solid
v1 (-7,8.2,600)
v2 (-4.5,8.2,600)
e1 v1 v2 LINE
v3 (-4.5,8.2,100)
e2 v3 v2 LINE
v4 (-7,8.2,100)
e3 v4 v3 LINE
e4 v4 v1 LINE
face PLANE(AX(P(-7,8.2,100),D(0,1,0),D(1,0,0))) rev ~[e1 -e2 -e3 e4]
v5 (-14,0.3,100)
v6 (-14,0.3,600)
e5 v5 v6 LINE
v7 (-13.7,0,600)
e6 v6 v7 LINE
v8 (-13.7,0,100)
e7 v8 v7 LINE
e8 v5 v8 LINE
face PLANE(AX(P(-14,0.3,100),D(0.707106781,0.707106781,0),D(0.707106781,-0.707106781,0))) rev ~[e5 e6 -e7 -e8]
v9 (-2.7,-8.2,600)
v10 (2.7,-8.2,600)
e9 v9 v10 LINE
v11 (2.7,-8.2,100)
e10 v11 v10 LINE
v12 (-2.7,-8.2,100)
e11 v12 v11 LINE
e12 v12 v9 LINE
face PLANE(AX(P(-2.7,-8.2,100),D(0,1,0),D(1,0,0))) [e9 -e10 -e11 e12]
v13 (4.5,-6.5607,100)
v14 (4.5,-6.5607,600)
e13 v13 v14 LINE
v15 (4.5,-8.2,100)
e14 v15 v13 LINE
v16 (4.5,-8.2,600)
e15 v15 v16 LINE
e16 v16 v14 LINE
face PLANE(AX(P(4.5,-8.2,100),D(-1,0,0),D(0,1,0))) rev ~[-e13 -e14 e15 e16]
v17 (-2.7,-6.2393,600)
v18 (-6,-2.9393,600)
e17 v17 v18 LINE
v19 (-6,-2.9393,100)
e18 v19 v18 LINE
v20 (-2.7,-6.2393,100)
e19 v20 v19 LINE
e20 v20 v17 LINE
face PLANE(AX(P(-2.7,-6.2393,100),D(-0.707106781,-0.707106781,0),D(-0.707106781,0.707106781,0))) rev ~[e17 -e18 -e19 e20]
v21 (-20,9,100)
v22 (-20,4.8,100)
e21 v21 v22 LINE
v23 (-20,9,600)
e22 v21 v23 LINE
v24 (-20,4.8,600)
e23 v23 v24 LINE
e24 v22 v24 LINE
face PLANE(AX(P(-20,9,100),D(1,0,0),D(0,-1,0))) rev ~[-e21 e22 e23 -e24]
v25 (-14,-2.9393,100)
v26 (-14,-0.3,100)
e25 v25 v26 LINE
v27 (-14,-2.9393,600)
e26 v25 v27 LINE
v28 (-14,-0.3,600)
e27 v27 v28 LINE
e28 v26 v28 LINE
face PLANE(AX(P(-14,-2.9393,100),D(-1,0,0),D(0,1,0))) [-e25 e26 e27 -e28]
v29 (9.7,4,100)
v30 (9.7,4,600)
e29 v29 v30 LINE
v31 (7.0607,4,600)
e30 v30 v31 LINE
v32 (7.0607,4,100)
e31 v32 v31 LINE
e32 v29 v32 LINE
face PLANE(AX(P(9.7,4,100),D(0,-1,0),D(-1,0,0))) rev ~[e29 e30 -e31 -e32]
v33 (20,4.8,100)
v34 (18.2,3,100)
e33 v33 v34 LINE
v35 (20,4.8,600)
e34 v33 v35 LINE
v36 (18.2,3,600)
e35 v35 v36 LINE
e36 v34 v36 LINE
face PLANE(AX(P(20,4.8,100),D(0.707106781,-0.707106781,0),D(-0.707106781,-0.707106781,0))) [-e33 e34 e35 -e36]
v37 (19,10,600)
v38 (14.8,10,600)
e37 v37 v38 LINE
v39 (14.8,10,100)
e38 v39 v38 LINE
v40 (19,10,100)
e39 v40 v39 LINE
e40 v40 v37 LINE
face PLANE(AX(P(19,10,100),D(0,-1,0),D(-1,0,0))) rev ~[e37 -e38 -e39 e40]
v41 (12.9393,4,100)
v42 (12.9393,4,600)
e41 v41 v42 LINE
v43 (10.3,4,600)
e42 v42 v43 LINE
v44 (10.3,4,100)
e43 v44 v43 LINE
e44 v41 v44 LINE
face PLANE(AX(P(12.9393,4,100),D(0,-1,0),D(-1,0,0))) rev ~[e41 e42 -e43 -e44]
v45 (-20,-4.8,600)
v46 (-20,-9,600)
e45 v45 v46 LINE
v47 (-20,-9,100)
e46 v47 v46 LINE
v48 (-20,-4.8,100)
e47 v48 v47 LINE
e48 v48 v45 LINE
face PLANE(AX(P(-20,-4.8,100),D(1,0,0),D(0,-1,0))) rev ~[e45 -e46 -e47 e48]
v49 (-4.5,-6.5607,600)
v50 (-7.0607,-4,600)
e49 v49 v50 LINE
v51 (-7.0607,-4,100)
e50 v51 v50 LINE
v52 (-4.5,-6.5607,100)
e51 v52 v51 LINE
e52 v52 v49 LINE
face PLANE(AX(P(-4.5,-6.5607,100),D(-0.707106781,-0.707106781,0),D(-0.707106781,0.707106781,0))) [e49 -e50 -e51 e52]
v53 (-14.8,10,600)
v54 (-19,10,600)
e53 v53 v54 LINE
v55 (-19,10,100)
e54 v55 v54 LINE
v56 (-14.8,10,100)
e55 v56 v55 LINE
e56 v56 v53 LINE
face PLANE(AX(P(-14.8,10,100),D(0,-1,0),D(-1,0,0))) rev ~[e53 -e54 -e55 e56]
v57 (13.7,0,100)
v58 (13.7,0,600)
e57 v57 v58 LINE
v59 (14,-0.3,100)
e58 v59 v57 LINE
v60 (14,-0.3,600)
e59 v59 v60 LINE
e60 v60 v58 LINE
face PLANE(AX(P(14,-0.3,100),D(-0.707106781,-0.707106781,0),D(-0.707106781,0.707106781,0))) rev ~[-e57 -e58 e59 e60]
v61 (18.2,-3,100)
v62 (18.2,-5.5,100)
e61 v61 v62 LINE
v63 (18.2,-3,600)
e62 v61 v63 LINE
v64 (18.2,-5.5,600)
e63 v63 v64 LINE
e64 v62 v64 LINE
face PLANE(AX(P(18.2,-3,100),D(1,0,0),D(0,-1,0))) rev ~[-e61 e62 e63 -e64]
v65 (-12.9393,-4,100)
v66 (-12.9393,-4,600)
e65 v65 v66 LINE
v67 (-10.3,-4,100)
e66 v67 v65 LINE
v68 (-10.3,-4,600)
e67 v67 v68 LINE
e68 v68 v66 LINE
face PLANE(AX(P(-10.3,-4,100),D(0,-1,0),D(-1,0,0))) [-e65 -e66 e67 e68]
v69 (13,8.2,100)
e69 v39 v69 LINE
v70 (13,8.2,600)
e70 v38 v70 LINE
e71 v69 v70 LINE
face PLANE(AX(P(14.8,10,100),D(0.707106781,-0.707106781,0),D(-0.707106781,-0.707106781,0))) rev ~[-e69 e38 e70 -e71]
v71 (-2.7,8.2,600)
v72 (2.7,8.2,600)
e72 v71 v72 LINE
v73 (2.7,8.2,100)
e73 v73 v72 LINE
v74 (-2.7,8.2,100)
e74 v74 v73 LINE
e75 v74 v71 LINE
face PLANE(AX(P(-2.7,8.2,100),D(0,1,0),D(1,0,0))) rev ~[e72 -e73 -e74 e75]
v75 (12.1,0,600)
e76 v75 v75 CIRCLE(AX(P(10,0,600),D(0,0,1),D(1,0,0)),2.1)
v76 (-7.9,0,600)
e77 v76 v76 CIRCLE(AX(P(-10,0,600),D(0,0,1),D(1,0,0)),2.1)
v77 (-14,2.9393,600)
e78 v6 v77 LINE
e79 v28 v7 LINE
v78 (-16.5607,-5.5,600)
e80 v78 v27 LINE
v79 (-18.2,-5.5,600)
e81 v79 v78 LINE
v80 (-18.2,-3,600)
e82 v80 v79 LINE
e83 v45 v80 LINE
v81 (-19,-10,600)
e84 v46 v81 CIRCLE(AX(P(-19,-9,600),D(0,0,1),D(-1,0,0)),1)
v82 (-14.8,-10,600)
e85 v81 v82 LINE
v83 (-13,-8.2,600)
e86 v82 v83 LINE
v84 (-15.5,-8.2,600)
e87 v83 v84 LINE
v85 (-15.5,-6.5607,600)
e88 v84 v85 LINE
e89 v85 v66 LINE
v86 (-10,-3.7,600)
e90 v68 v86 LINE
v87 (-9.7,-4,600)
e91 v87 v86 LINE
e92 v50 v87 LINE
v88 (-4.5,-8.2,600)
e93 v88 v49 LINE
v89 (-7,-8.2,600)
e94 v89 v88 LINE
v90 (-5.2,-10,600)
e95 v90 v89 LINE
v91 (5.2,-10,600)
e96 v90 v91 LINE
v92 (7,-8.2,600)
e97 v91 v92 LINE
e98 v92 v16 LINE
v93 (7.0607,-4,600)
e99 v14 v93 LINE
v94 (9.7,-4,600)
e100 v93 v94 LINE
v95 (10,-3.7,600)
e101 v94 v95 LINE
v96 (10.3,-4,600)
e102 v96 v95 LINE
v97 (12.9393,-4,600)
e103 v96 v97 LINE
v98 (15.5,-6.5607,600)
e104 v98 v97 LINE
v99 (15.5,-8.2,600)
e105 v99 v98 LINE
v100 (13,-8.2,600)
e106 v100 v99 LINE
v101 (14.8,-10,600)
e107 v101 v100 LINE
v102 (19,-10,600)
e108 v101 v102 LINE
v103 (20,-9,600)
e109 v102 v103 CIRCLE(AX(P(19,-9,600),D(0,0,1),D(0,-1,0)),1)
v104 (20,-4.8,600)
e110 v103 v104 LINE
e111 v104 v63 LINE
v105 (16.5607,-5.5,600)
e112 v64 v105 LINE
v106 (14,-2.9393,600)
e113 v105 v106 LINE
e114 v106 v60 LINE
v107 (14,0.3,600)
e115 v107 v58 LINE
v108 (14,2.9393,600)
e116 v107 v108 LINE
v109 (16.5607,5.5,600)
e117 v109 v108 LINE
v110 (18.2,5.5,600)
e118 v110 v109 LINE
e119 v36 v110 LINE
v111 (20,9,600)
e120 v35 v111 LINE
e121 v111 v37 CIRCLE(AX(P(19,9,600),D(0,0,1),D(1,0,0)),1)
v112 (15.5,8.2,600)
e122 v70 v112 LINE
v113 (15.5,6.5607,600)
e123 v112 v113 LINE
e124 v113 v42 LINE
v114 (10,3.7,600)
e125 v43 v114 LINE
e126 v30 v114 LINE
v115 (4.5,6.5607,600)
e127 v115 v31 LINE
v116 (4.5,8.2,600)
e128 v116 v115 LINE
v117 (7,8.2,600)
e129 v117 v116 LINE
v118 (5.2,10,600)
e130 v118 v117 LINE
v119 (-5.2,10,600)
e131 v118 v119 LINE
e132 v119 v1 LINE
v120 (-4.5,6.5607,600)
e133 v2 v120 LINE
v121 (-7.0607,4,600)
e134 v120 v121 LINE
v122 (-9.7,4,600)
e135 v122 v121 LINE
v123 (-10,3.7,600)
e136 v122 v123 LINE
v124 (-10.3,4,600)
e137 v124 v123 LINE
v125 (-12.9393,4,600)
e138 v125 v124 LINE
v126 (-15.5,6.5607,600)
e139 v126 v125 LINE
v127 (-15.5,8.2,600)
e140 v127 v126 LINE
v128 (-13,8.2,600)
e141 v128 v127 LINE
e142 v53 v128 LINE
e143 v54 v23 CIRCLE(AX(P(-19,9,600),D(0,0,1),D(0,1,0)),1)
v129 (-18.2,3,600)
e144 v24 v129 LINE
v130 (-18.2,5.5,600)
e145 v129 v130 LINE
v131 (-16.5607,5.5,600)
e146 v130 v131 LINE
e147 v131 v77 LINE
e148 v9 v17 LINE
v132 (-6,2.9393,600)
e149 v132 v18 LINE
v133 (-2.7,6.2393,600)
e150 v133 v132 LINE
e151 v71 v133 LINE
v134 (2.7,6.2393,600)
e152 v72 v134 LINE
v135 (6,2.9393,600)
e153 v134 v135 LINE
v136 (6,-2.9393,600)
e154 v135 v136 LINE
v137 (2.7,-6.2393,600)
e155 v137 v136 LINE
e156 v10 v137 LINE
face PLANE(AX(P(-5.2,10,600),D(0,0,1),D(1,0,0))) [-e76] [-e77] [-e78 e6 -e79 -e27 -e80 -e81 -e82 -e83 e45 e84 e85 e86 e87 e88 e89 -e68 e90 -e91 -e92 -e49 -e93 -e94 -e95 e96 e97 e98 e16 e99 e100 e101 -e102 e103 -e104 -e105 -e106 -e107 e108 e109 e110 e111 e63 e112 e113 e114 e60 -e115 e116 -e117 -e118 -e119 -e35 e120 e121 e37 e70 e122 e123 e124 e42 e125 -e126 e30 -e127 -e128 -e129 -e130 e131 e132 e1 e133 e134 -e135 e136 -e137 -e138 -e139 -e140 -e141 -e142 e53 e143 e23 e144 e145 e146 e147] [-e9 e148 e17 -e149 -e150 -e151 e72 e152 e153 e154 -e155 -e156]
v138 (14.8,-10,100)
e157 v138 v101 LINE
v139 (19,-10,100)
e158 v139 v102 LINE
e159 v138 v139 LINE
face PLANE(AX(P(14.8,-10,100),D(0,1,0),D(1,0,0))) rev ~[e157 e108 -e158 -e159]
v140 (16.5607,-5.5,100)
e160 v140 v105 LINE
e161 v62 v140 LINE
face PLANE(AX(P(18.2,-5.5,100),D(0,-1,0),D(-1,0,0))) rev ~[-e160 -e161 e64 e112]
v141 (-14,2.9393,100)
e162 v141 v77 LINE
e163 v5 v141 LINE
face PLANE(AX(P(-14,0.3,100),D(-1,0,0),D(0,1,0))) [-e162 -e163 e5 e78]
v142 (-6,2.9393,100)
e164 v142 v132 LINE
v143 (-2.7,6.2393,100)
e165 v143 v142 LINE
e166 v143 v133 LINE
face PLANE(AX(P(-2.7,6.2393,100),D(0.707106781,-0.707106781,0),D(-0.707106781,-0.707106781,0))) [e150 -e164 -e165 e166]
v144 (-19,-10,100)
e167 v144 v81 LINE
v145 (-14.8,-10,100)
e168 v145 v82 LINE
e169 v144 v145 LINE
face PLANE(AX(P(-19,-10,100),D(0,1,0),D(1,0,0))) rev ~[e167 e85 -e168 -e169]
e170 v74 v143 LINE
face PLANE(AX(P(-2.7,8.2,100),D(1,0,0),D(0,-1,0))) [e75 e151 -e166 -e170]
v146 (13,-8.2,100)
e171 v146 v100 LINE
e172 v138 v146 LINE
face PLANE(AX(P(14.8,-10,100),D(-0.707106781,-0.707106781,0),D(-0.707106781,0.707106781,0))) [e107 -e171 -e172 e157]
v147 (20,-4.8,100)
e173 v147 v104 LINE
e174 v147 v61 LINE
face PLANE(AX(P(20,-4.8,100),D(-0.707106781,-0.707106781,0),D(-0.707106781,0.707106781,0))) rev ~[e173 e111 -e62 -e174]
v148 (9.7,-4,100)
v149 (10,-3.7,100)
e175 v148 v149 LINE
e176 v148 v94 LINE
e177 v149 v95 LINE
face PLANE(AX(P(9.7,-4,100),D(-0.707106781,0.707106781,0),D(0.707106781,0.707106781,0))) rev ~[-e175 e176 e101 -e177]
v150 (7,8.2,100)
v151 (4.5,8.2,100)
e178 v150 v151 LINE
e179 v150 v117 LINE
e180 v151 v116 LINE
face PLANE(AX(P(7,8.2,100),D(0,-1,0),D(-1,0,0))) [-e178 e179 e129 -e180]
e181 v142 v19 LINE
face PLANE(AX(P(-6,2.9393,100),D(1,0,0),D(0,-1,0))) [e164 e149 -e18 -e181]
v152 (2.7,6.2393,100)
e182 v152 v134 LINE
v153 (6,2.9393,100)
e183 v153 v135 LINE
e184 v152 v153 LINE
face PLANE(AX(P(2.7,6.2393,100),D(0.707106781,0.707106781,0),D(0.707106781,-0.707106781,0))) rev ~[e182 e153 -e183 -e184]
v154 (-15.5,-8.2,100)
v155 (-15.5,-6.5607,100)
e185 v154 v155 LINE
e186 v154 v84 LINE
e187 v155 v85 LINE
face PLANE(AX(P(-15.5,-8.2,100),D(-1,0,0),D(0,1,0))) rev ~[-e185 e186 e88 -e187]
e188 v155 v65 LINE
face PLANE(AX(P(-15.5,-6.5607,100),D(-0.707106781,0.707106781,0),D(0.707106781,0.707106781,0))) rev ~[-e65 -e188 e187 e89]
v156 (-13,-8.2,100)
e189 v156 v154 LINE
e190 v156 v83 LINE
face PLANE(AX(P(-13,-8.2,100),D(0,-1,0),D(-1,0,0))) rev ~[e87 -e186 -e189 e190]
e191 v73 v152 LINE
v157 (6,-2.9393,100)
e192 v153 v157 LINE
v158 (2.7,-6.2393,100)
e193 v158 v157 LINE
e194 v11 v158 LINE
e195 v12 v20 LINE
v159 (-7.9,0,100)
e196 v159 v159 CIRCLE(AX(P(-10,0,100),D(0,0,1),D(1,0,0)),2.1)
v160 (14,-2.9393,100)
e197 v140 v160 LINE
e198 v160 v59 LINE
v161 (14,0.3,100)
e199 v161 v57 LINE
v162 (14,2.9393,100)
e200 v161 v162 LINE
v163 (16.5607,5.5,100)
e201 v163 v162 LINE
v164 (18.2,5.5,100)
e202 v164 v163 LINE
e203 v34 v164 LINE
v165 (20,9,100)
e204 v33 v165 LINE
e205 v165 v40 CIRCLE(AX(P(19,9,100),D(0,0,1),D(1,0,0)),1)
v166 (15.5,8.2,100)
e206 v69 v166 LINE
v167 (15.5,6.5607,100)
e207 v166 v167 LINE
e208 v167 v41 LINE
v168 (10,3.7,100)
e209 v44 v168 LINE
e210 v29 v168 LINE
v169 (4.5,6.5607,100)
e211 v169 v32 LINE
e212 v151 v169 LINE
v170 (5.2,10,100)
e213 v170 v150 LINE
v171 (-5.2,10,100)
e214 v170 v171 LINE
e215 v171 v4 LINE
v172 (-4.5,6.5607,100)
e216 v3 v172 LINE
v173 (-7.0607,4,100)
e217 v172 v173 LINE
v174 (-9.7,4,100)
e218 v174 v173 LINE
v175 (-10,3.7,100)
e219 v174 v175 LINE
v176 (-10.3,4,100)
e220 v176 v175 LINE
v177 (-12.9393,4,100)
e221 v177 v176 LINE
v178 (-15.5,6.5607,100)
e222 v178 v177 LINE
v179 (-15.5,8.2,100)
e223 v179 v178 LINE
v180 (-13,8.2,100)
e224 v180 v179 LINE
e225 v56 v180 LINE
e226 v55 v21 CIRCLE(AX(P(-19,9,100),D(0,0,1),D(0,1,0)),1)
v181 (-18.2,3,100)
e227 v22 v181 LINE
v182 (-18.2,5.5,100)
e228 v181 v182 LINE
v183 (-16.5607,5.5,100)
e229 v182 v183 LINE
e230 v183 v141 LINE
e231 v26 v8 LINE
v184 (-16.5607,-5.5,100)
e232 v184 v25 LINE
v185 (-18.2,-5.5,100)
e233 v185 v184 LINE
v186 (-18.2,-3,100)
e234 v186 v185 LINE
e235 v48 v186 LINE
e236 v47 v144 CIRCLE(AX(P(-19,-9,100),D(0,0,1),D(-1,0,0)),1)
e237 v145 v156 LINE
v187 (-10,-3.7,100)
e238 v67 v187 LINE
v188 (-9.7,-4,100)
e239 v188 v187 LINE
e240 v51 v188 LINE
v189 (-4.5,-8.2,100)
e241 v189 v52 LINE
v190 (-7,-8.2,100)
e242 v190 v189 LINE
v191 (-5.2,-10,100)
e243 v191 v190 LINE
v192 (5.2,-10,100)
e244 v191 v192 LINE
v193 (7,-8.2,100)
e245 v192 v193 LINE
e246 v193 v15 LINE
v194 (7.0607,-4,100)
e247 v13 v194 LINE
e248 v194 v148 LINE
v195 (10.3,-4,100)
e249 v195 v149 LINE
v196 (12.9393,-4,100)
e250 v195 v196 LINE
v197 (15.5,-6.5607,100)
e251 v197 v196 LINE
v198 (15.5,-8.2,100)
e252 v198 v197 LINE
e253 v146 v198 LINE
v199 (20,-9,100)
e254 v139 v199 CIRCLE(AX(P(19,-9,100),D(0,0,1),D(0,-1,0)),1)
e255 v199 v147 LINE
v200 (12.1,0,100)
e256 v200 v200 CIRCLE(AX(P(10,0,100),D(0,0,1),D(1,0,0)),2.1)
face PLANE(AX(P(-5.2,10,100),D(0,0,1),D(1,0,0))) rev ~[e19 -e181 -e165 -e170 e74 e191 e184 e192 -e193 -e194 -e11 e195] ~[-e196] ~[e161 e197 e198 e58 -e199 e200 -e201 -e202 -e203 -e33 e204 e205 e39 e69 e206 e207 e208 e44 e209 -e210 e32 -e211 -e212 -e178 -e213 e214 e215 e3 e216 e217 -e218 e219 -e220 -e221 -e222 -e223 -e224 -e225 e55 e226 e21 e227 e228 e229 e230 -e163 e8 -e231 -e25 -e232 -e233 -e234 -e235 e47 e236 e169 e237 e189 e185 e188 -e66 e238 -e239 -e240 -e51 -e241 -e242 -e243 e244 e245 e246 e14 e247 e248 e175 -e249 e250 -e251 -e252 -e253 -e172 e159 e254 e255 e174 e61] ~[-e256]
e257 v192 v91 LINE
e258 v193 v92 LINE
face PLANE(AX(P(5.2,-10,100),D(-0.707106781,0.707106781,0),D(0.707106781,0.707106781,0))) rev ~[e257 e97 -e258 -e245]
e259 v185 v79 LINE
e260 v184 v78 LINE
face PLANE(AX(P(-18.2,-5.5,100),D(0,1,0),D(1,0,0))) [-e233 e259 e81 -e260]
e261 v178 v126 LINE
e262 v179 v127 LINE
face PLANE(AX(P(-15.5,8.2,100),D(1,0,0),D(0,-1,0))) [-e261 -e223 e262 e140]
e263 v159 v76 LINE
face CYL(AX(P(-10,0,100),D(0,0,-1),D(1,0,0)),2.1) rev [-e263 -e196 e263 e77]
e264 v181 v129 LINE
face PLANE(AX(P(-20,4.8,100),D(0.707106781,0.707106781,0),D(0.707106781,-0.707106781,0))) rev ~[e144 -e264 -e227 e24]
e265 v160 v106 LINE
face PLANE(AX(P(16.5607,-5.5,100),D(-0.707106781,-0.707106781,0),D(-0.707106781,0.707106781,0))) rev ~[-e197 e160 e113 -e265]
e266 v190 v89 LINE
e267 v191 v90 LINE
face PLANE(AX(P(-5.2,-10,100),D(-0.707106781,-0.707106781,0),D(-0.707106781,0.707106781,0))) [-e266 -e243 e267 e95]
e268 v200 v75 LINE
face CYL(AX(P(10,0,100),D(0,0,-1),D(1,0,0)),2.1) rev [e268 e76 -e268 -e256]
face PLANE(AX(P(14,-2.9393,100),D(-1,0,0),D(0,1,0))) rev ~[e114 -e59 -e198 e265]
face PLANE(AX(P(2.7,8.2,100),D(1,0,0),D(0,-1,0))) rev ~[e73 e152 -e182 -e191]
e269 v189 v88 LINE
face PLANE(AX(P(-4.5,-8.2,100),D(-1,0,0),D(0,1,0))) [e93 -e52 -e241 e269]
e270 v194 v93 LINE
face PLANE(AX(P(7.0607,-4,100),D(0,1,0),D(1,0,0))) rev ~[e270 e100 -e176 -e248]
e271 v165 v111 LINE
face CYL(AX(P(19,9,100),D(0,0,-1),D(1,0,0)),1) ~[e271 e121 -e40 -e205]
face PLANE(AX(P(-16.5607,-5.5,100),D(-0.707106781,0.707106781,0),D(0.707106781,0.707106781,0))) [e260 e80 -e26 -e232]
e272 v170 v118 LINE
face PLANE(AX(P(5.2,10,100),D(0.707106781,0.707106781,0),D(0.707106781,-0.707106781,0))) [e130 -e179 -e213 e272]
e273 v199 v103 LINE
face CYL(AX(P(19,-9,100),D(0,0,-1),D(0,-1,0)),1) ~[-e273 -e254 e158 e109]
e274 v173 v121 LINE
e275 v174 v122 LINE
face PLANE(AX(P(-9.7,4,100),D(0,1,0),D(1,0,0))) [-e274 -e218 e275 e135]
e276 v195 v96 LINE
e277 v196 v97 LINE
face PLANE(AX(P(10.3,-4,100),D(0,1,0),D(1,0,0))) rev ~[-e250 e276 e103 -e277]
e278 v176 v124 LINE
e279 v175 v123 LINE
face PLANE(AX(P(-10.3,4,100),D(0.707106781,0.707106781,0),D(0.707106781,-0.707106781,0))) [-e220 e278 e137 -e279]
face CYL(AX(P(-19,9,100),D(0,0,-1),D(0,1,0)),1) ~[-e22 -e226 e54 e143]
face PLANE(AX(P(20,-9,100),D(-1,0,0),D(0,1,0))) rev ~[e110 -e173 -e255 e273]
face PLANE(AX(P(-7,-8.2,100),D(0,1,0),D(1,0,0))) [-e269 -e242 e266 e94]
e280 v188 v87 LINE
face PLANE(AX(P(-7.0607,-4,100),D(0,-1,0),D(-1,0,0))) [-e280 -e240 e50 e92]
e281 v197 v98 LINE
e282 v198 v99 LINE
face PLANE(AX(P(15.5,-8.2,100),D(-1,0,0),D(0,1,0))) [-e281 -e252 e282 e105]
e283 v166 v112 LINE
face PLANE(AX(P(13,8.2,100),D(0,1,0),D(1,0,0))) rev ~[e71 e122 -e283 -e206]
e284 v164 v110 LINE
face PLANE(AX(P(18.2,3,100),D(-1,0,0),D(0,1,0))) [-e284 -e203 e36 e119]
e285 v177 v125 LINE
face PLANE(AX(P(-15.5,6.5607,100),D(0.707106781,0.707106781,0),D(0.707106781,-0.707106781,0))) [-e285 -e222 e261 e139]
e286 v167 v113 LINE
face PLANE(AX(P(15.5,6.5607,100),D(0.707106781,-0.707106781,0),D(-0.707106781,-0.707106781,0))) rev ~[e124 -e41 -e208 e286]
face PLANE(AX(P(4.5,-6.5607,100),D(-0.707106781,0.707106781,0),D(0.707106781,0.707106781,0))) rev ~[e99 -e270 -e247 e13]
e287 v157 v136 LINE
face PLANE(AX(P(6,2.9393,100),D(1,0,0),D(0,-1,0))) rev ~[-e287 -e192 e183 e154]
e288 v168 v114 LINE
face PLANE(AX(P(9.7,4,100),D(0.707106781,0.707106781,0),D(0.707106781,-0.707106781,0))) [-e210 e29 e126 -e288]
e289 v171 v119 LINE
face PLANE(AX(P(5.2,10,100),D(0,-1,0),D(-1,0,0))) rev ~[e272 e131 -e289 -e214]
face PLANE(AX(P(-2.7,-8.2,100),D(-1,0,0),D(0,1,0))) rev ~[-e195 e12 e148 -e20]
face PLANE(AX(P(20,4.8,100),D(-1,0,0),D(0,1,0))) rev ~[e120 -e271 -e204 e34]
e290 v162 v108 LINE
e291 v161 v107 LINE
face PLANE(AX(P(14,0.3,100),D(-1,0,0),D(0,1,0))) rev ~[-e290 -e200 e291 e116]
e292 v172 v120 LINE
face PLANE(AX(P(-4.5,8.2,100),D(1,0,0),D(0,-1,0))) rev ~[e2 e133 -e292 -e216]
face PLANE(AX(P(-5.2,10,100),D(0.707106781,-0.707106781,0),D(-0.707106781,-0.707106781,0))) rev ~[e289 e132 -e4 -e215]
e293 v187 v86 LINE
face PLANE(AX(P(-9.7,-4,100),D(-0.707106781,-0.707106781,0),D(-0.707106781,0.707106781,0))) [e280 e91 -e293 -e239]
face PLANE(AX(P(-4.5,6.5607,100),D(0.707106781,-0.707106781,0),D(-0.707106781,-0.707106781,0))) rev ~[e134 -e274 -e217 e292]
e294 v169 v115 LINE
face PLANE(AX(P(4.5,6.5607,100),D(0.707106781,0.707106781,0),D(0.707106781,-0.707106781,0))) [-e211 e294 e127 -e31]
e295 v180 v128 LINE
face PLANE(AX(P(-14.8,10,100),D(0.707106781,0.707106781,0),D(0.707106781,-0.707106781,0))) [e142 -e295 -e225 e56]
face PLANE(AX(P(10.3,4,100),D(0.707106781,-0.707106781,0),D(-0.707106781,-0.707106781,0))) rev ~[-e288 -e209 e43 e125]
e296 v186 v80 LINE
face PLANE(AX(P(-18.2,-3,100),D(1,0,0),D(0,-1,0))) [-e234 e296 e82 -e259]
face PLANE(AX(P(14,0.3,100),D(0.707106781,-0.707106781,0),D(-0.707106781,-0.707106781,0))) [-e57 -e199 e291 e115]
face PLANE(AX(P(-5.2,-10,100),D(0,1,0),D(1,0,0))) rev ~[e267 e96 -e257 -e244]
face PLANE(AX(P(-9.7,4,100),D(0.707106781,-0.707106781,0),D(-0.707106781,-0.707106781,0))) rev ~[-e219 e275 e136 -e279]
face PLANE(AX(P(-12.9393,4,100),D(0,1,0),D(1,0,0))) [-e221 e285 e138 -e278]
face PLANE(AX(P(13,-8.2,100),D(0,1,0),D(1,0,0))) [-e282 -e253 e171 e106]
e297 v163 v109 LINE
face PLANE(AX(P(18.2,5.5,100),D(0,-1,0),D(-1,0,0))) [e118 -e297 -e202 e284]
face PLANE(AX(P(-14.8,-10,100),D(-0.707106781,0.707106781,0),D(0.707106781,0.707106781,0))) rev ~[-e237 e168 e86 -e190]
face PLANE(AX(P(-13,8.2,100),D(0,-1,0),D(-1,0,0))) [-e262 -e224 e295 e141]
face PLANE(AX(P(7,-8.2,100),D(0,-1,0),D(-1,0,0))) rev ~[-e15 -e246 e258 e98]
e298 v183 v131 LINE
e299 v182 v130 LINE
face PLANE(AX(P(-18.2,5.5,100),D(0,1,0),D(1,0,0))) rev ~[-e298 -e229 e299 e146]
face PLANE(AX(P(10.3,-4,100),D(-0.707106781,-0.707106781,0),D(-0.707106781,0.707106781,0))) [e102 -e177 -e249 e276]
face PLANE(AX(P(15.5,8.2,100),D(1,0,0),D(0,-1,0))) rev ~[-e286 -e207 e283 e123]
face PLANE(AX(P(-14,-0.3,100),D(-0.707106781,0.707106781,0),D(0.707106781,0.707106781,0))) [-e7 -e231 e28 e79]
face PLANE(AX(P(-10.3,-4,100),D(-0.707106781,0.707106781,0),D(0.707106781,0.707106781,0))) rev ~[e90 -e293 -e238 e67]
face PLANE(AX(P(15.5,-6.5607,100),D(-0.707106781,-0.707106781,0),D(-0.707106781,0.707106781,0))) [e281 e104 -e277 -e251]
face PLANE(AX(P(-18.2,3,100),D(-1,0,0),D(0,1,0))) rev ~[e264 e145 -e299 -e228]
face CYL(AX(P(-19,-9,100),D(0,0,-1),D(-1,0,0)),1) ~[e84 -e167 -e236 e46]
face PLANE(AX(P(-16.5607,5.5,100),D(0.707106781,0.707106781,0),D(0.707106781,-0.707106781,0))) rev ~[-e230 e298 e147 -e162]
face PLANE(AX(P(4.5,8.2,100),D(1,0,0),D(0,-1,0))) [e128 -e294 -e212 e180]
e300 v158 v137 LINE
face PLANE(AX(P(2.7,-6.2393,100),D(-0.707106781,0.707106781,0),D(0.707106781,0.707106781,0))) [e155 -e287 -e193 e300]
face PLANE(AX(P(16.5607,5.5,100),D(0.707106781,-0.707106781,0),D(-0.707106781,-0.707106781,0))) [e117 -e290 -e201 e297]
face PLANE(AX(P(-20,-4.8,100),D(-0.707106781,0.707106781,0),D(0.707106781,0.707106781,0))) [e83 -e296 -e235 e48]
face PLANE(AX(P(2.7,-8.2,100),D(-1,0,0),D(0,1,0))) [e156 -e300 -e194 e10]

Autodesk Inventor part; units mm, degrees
ref_plane "YZ Plane" through (0, 0, 0) normal (1, 0, 0) x (0, 1, 0)
ref_plane "XZ Plane" through (0, 0, 0) normal (0, 1, 0) x (-1, 0, 0)
ref_plane "Work Plane2" through (-5.2, 10, 100) normal (0, 0, 1) x (1, 0, 0)
sketch "Sketch1" plane through (-5.2, 10, 100) normal (0, 0, 1) x (1, 0, 0)
  line L0 (7.9, -18.2) -> (7.9, -16.2393)
  line L1 (2.5, -18.2) -> (7.9, -18.2)
  line L2 (2.5, -18.2) -> (2.5, -16.2393)
  line L3 (2.5, -16.2393) -> (-0.8, -12.9393)
  line L4 (-0.8, -7.0607) -> (-0.8, -12.9393)
  line L5 (2.5, -3.7607) -> (-0.8, -7.0607)
  line L6 (12.2, -18.2) -> (9.7, -18.2)
  line L7 (10.4, -20) -> (12.2, -18.2)
  line L8 (0, -20) -> (10.4, -20)
  line L9 (0, -20) -> (-1.8, -18.2)
  line L10 (-1.8, -18.2) -> (0.7, -18.2)
  line L11 (0.7, -18.2) -> (0.7, -16.5607)
  line L12 (0.7, -16.5607) -> (-1.8607, -14)
  line L13 (-1.8607, -14) -> (-4.5, -14)
  line L14 (-4.5, -14) -> (-4.8, -13.7)
  line L15 (-5.1, -14) -> (-4.8, -13.7)
  line L16 (-5.1, -14) -> (-7.7393, -14)
  line L17 (-10.3, -16.5607) -> (-7.7393, -14)
  line L18 (-10.3, -18.2) -> (-10.3, -16.5607)
  line L19 (-7.8, -18.2) -> (-10.3, -18.2)
  line L20 (-9.6, -20) -> (-7.8, -18.2)
  line L21 (-13.8, -20) -> (-9.6, -20)
  arc A0 (-14.8, -19) -> (-13.8, -20) centre (-13.8, -19) ccw
  line L22 (-14.8, -14.8) -> (-14.8, -19)
  line L23 (-14.8, -14.8) -> (-13, -13)
  line L24 (-13, -13) -> (-13, -15.5)
  line L25 (-13, -15.5) -> (-11.3607, -15.5)
  line L26 (-11.3607, -15.5) -> (-8.8, -12.9393)
  line L27 (-8.8, -12.9393) -> (-8.8, -10.3)
  line L28 (-8.8, -10.3) -> (-8.5, -10)
  line L29 (-8.8, -9.7) -> (-8.5, -10)
  line L30 (-8.8, -9.7) -> (-8.8, -7.0607)
  line L31 (-11.3607, -4.5) -> (-8.8, -7.0607)
  line L32 (-13, -4.5) -> (-11.3607, -4.5)
  line L33 (-13, -7) -> (-13, -4.5)
  line L34 (-14.8, -5.2) -> (-13, -7)
  line L35 (-14.8, -1) -> (-14.8, -5.2)
  arc A1 (-13.8, 0) -> (-14.8, -1) centre (-13.8, -1) ccw
  line L36 (-9.6, 0) -> (-13.8, 0)
  line L37 (-9.6, 0) -> (-7.8, -1.8)
  line L38 (-7.8, -1.8) -> (-10.3, -1.8)
  line L39 (-10.3, -1.8) -> (-10.3, -3.4393)
  line L40 (-10.3, -3.4393) -> (-7.7393, -6)
  line L41 (-7.7393, -6) -> (-5.1, -6)
  line L42 (-5.1, -6) -> (-4.8, -6.3)
  line L43 (-4.5, -6) -> (-4.8, -6.3)
  line L44 (-4.5, -6) -> (-1.8607, -6)
  line L45 (0.7, -3.4393) -> (-1.8607, -6)
  line L46 (0.7, -1.8) -> (0.7, -3.4393)
  line L47 (-1.8, -1.8) -> (0.7, -1.8)
  line L48 (0, 0) -> (-1.8, -1.8)
  line L49 (10.4, 0) -> (0, 0)
  line L50 (10.4, 0) -> (12.2, -1.8)
  line L51 (12.2, -1.8) -> (9.7, -1.8)
  line L52 (9.7, -1.8) -> (9.7, -3.4393)
  line L53 (9.7, -3.4393) -> (12.2607, -6)
  line L54 (14.9, -6) -> (12.2607, -6)
  line L55 (14.9, -6) -> (15.2, -6.3)
  line L56 (15.5, -6) -> (15.2, -6.3)
  line L57 (18.1393, -6) -> (15.5, -6)
  line L58 (20.7, -3.4393) -> (18.1393, -6)
  line L59 (20.7, -1.8) -> (20.7, -3.4393)
  line L60 (18.2, -1.8) -> (20.7, -1.8)
  line L61 (20, 0) -> (18.2, -1.8)
  line L62 (24.2, 0) -> (20, 0)
  arc A2 (25.2, -1) -> (24.2, 0) centre (24.2, -1) ccw
  line L63 (25.2, -5.2) -> (25.2, -1)
  line L64 (25.2, -5.2) -> (23.4, -7)
  line L65 (23.4, -7) -> (23.4, -4.5)
  line L66 (23.4, -4.5) -> (21.7607, -4.5)
  line L67 (21.7607, -4.5) -> (19.2, -7.0607)
  line L68 (19.2, -9.7) -> (19.2, -7.0607)
  line L69 (19.2, -9.7) -> (18.9, -10)
  line L70 (19.2, -10.3) -> (18.9, -10)
  line L71 (19.2, -12.9393) -> (19.2, -10.3)
  line L72 (21.7607, -15.5) -> (19.2, -12.9393)
  line L73 (23.4, -15.5) -> (21.7607, -15.5)
  line L74 (23.4, -13) -> (23.4, -15.5)
  line L75 (25.2, -14.8) -> (23.4, -13)
  line L76 (25.2, -19) -> (25.2, -14.8)
  arc A3 (24.2, -20) -> (25.2, -19) centre (24.2, -19) ccw
  line L77 (20, -20) -> (24.2, -20)
  line L78 (20, -20) -> (18.2, -18.2)
  line L79 (18.2, -18.2) -> (20.7, -18.2)
  line L80 (20.7, -18.2) -> (20.7, -16.5607)
  line L81 (20.7, -16.5607) -> (18.1393, -14)
  line L82 (15.5, -14) -> (18.1393, -14)
  line L83 (15.5, -14) -> (15.2, -13.7)
  line L84 (14.9, -14) -> (15.2, -13.7)
  line L85 (12.2607, -14) -> (14.9, -14)
  line L86 (9.7, -16.5607) -> (12.2607, -14)
  line L87 (9.7, -18.2) -> (9.7, -16.5607)
  circle A4 centre (15.2, -10) radius 2.1
  circle A5 centre (-4.8, -10) radius 2.1
  line L88 (7.9, -16.2393) -> (11.2, -12.9393)
  line L89 (11.2, -7.0607) -> (11.2, -12.9393)
  line L90 (7.9, -3.7607) -> (11.2, -7.0607)
  line L91 (7.9, -1.8) -> (7.9, -3.7607)
  line L92 (2.5, -1.8) -> (7.9, -1.8)
  line L93 (2.5, -1.8) -> (2.5, -3.7607)
  line L94 (2.5, -3.7607) -> (-0.8, -7.0607)
  line L95 (-0.8, -7.0607) -> (-0.8, -12.9393)
  line L96 (2.5, -16.2393) -> (-0.8, -12.9393)
  line L97 (2.5, -18.2) -> (2.5, -16.2393)
  line L98 (2.5, -18.2) -> (7.9, -18.2)
  line L99 (7.9, -18.2) -> (7.9, -16.2393)
  line L100 (0.7, -18.2) -> (0.7, -16.5607)
  line L101 (0.7, -16.5607) -> (-1.8607, -14)
  line L102 (-1.8, -18.2) -> (0.7, -18.2)
  line L103 (0, -20) -> (-1.8, -18.2)
  line L104 (-1.8607, -14) -> (-4.5, -14)
  line L105 (-4.5, -14) -> (-4.8, -13.7)
  line L106 (-5.1, -14) -> (-4.8, -13.7)
  circle A6 centre (-4.8, -10) radius 2.1
  line L107 (-5.1, -14) -> (-7.7393, -14)
  line L108 (-8.8, -9.7) -> (-8.5, -10)
  line L109 (-8.8, -12.9393) -> (-8.8, -10.3)
  line L110 (-8.8, -9.7) -> (-8.8, -7.0607)
  line L111 (-10.3, -16.5607) -> (-7.7393, -14)
  line L112 (-10.3, -18.2) -> (-10.3, -16.5607)
  line L113 (-13, -15.5) -> (-11.3607, -15.5)
  line L114 (-13, -13) -> (-13, -15.5)
  line L115 (-14.8, -14.8) -> (-14.8, -19)
  line L116 (-11.3607, -4.5) -> (-8.8, -7.0607)
  line L117 (-13, -7) -> (-13, -4.5)
  line L118 (0.7, -3.4393) -> (-1.8607, -6)
  line L119 (2.5, -1.8) -> (2.5, -3.7607)
  line L120 (2.5, -1.8) -> (7.9, -1.8)
  line L121 (7.9, -1.8) -> (7.9, -3.7607)
  line L122 (9.7, -18.2) -> (9.7, -16.5607)
  line L123 (7.9, -3.7607) -> (11.2, -7.0607)
  line L124 (7.9, -16.2393) -> (11.2, -12.9393)
  line L125 (11.2, -7.0607) -> (11.2, -12.9393)
  line L126 (9.7, -16.5607) -> (12.2607, -14)
  line L127 (12.2607, -14) -> (14.9, -14)
  line L128 (14.9, -14) -> (15.2, -13.7)
  circle A7 centre (15.2, -10) radius 2.1
  line L129 (15.5, -14) -> (15.2, -13.7)
  line L130 (-13, -4.5) -> (-11.3607, -4.5)
  line L131 (15.5, -14) -> (18.1393, -14)
  line L132 (19.2, -12.9393) -> (19.2, -10.3)
  line L133 (20, -20) -> (18.2, -18.2)
  line L134 (20.7, -16.5607) -> (18.1393, -14)
  line L135 (18.2, -18.2) -> (20.7, -18.2)
  line L136 (20.7, -18.2) -> (20.7, -16.5607)
  line L137 (21.7607, -15.5) -> (19.2, -12.9393)
  line L138 (23.4, -15.5) -> (21.7607, -15.5)
  arc A8 (24.2, -20) -> (25.2, -19) centre (24.2, -19) ccw
  line L139 (25.2, -19) -> (25.2, -14.8)
  line L140 (25.2, -14.8) -> (23.4, -13)
  line L141 (23.4, -13) -> (23.4, -15.5)
  line L142 (-7.8, -18.2) -> (-10.3, -18.2)
  arc A9 (-14.8, -19) -> (-13.8, -20) centre (-13.8, -19) ccw
  line L143 (-9.6, -20) -> (-7.8, -18.2)
  line L144 (-14.8, -14.8) -> (-13, -13)
  line L145 (-11.3607, -15.5) -> (-8.8, -12.9393)
  line L146 (-8.8, -10.3) -> (-8.5, -10)
  line L147 (19.2, -10.3) -> (18.9, -10)
  line L148 (19.2, -9.7) -> (18.9, -10)
  line L149 (19.2, -9.7) -> (19.2, -7.0607)
  line L150 (21.7607, -4.5) -> (19.2, -7.0607)
  line L151 (23.4, -4.5) -> (21.7607, -4.5)
  line L152 (23.4, -7) -> (23.4, -4.5)
  line L153 (25.2, -5.2) -> (23.4, -7)
  arc A10 (25.2, -1) -> (24.2, 0) centre (24.2, -1) ccw
  line L154 (20, 0) -> (18.2, -1.8)
  line L155 (18.2, -1.8) -> (20.7, -1.8)
  line L156 (15.5, -6) -> (15.2, -6.3)
  line L157 (18.1393, -6) -> (15.5, -6)
  line L158 (20.7, -3.4393) -> (18.1393, -6)
  line L159 (20.7, -1.8) -> (20.7, -3.4393)
  line L160 (0.7, -1.8) -> (0.7, -3.4393)
  line L161 (9.7, -3.4393) -> (12.2607, -6)
  line L162 (14.9, -6) -> (12.2607, -6)
  line L163 (14.9, -6) -> (15.2, -6.3)
  line L164 (9.7, -1.8) -> (9.7, -3.4393)
  line L165 (-1.8, -1.8) -> (0.7, -1.8)
  line L166 (12.2, -1.8) -> (9.7, -1.8)
  line L167 (10.4, 0) -> (12.2, -1.8)
  line L168 (0, 0) -> (-1.8, -1.8)
  line L169 (10.4, 0) -> (0, 0)
  line L170 (-14.8, -5.2) -> (-13, -7)
  line L171 (0, -20) -> (10.4, -20)
  line L172 (12.2, -18.2) -> (9.7, -18.2)
  line L173 (10.4, -20) -> (12.2, -18.2)
  line L174 (-7.8, -1.8) -> (-10.3, -1.8)
  line L175 (-9.6, 0) -> (-7.8, -1.8)
  line L176 (-9.6, 0) -> (-13.8, 0)
  arc A11 (-13.8, 0) -> (-14.8, -1) centre (-13.8, -1) ccw
  line L177 (-7.7393, -6) -> (-5.1, -6)
  line L178 (-10.3, -3.4393) -> (-7.7393, -6)
  line L179 (-10.3, -1.8) -> (-10.3, -3.4393)
  line L180 (-5.1, -6) -> (-4.8, -6.3)
  line L181 (-4.5, -6) -> (-4.8, -6.3)
  line L182 (-4.5, -6) -> (-1.8607, -6)
  line L183 (21.7607, -15.5) -> (19.2, -12.9393)
  line L184 (25.2, -14.8) -> (23.4, -13)
  arc A12 (24.2, -20) -> (25.2, -19) centre (24.2, -19) ccw
  line L185 (23.4, -7) -> (23.4, -4.5)
  line L186 (23.4, -4.5) -> (21.7607, -4.5)
  line L187 (21.7607, -4.5) -> (19.2, -7.0607)
  line L188 (19.2, -9.7) -> (19.2, -7.0607)
  line L189 (19.2, -9.7) -> (18.9, -10)
  line L190 (19.2, -10.3) -> (18.9, -10)
  line L191 (19.2, -12.9393) -> (19.2, -10.3)
  line L192 (25.2, -19) -> (25.2, -14.8)
  line L193 (23.4, -13) -> (23.4, -15.5)
  line L194 (23.4, -15.5) -> (21.7607, -15.5)
  line L195 (20.7, -18.2) -> (20.7, -16.5607)
  line L196 (18.2, -18.2) -> (20.7, -18.2)
  line L197 (20, -20) -> (18.2, -18.2)
  line L198 (2.5, -3.7607) -> (-0.8, -7.0607)
  line L199 (2.5, -3.7607) -> (-0.8, -7.0607)
  line L200 (2.5, -3.7607) -> (-0.8, -7.0607)
  line L201 (7.9, -3.7607) -> (11.2, -7.0607)
  line L202 (7.9, -3.7607) -> (11.2, -7.0607)
  line L203 (7.9, -3.7607) -> (11.2, -7.0607)
  line L204 (0.7, -3.4393) -> (-1.8607, -6)
  line L205 (0.7, -3.4393) -> (-1.8607, -6)
  line L206 (2.5, -1.8) -> (2.5, -3.7607)
  line L207 (2.5, -1.8) -> (2.5, -3.7607)
  line L208 (7.9, -1.8) -> (7.9, -3.7607)
  line L209 (7.9, -1.8) -> (7.9, -3.7607)
  line L210 (0.7, -1.8) -> (0.7, -3.4393)
  line L211 (0.7, -1.8) -> (0.7, -3.4393)
  line L212 (2.5, -1.8) -> (7.9, -1.8)
  line L213 (10.4, 0) -> (0, 0)
  line L214 (10.4, 0) -> (0, 0)
  line L215 (10.4, 0) -> (12.2, -1.8)
  line L216 (10.4, 0) -> (12.2, -1.8)
  line L217 (2.5, -1.8) -> (7.9, -1.8)
  line L218 (2.5, -1.8) -> (7.9, -1.8)
  line L219 (11.2, -7.0607) -> (11.2, -12.9393)
  line L220 (-0.8, -7.0607) -> (-0.8, -12.9393)
  line L221 (-0.8, -7.0607) -> (-0.8, -12.9393)
  line L222 (-0.8, -7.0607) -> (-0.8, -12.9393)
  line L223 (7.9, -16.2393) -> (11.2, -12.9393)
  line L224 (7.9, -16.2393) -> (11.2, -12.9393)
  line L225 (7.9, -16.2393) -> (11.2, -12.9393)
  line L226 (2.5, -18.2) -> (7.9, -18.2)
  line L227 (2.5, -18.2) -> (7.9, -18.2)
  line L228 (7.9, -18.2) -> (7.9, -16.2393)
  line L229 (7.9, -18.2) -> (7.9, -16.2393)
  line L230 (7.9, -18.2) -> (7.9, -16.2393)
  line L231 (2.5, -18.2) -> (2.5, -16.2393)
  line L232 (2.5, -18.2) -> (2.5, -16.2393)
  line L233 (2.5, -18.2) -> (2.5, -16.2393)
  line L234 (2.5, -16.2393) -> (-0.8, -12.9393)
  line L235 (2.5, -16.2393) -> (-0.8, -12.9393)
  line L236 (2.5, -16.2393) -> (-0.8, -12.9393)
  line L237 (0.7, -16.5607) -> (-1.8607, -14)
  line L238 (0.7, -16.5607) -> (-1.8607, -14)
  line L239 (0, 0) -> (-1.8, -1.8)
  line L240 (0, 0) -> (-1.8, -1.8)
  line L241 (-1.8, -1.8) -> (0.7, -1.8)
  line L242 (-1.8, -1.8) -> (0.7, -1.8)
  line L243 (23.4, -15.5) -> (21.7607, -15.5)
  line L244 (23.4, -15.5) -> (21.7607, -15.5)
  line L245 (23.4, -13) -> (23.4, -15.5)
  line L246 (23.4, -13) -> (23.4, -15.5)
  line L247 (25.2, -14.8) -> (23.4, -13)
  line L248 (25.2, -14.8) -> (23.4, -13)
  line L249 (21.7607, -15.5) -> (19.2, -12.9393)
  line L250 (21.7607, -15.5) -> (19.2, -12.9393)
  line L251 (18.2, -18.2) -> (20.7, -18.2)
  line L252 (18.2, -18.2) -> (20.7, -18.2)
  line L253 (20, -20) -> (18.2, -18.2)
  line L254 (20, -20) -> (18.2, -18.2)
  line L255 (20, -20) -> (24.2, -20)
  line L256 (20, -20) -> (24.2, -20)
  line L257 (20.7, -18.2) -> (20.7, -16.5607)
  line L258 (20.7, -18.2) -> (20.7, -16.5607)
  line L259 (24.2, 0) -> (20, 0)
  line L260 (24.2, 0) -> (20, 0)
  line L261 (25.2, -5.2) -> (25.2, -1)
  line L262 (9.7, -18.2) -> (9.7, -16.5607)
  line L263 (9.7, -18.2) -> (9.7, -16.5607)
  line L264 (10.4, -20) -> (12.2, -18.2)
  line L265 (10.4, -20) -> (12.2, -18.2)
  line L266 (12.2, -18.2) -> (9.7, -18.2)
  line L267 (12.2, -18.2) -> (9.7, -18.2)
  line L268 (9.7, -16.5607) -> (12.2607, -14)
  line L269 (9.7, -16.5607) -> (12.2607, -14)
  line L270 (9.7, -16.5607) -> (12.2607, -14)
  line L271 (12.2607, -14) -> (14.9, -14)
  line L272 (14.9, -14) -> (15.2, -13.7)
  line L273 (15.5, -14) -> (15.2, -13.7)
  line L274 (15.5, -14) -> (18.1393, -14)
  line L275 (20.7, -16.5607) -> (18.1393, -14)
  line L276 (11.2, -7.0607) -> (11.2, -12.9393)
  line L277 (11.2, -7.0607) -> (11.2, -12.9393)
  line L278 (12.2607, -14) -> (14.9, -14)
  line L279 (12.2607, -14) -> (14.9, -14)
  line L280 (14.9, -14) -> (15.2, -13.7)
  line L281 (14.9, -14) -> (15.2, -13.7)
  line L282 (15.5, -14) -> (15.2, -13.7)
  line L283 (15.5, -14) -> (15.2, -13.7)
  line L284 (20, 0) -> (18.2, -1.8)
  line L285 (20, 0) -> (18.2, -1.8)
  line L286 (19.2, -9.7) -> (19.2, -7.0607)
  line L287 (19.2, -9.7) -> (19.2, -7.0607)
  line L288 (19.2, -9.7) -> (18.9, -10)
  line L289 (19.2, -9.7) -> (18.9, -10)
  line L290 (19.2, -10.3) -> (18.9, -10)
  line L291 (19.2, -10.3) -> (18.9, -10)
  line L292 (21.7607, -4.5) -> (19.2, -7.0607)
  line L293 (21.7607, -4.5) -> (19.2, -7.0607)
  line L294 (23.4, -7) -> (23.4, -4.5)
  line L295 (23.4, -7) -> (23.4, -4.5)
  line L296 (23.4, -4.5) -> (21.7607, -4.5)
  line L297 (23.4, -4.5) -> (21.7607, -4.5)
  line L298 (15.5, -14) -> (18.1393, -14)
  line L299 (15.5, -14) -> (18.1393, -14)
  line L300 (19.2, -12.9393) -> (19.2, -10.3)
  line L301 (19.2, -12.9393) -> (19.2, -10.3)
  line L302 (20.7, -16.5607) -> (18.1393, -14)
  line L303 (20.7, -16.5607) -> (18.1393, -14)
  circle A13 centre (15.2, -10) radius 2.1
  circle A14 centre (15.2, -10) radius 2.1
  line L304 (9.7, -1.8) -> (9.7, -3.4393)
  line L305 (9.7, -1.8) -> (9.7, -3.4393)
  line L306 (9.7, -3.4393) -> (12.2607, -6)
  line L307 (9.7, -3.4393) -> (12.2607, -6)
  line L308 (14.9, -6) -> (12.2607, -6)
  line L309 (14.9, -6) -> (12.2607, -6)
  line L310 (14.9, -6) -> (15.2, -6.3)
  line L311 (14.9, -6) -> (15.2, -6.3)
  line L312 (15.5, -6) -> (15.2, -6.3)
  line L313 (15.5, -6) -> (15.2, -6.3)
  line L314 (18.1393, -6) -> (15.5, -6)
  line L315 (18.1393, -6) -> (15.5, -6)
  line L316 (20.7, -3.4393) -> (18.1393, -6)
  line L317 (20.7, -3.4393) -> (18.1393, -6)
  line L318 (20.7, -1.8) -> (20.7, -3.4393)
  line L319 (20.7, -1.8) -> (20.7, -3.4393)
  line L320 (18.2, -1.8) -> (20.7, -1.8)
  line L321 (18.2, -1.8) -> (20.7, -1.8)
  line L322 (12.2, -1.8) -> (9.7, -1.8)
  line L323 (12.2, -1.8) -> (9.7, -1.8)
  line L324 (7.9, -1.8) -> (7.9, -3.7607)
  line L325 (0.7, -18.2) -> (0.7, -16.5607)
  line L326 (0.7, -18.2) -> (0.7, -16.5607)
  line L327 (-1.8, -18.2) -> (0.7, -18.2)
  line L328 (-1.8, -18.2) -> (0.7, -18.2)
  line L329 (0, -20) -> (10.4, -20)
  line L330 (0, -20) -> (10.4, -20)
  line L331 (0, -20) -> (-1.8, -18.2)
  line L332 (0, -20) -> (-1.8, -18.2)
  line L333 (-13.8, -20) -> (-9.6, -20)
  arc A15 (-14.8, -19) -> (-13.8, -20) centre (-13.8, -19) ccw
  line L334 (25.2, -5.2) -> (23.4, -7)
  line L335 (25.2, -5.2) -> (23.4, -7)
  line L336 (24.2, 0) -> (20, 0)
  line L337 (24.2, 0) -> (20, 0)
  arc A16 (25.2, -1) -> (24.2, 0) centre (24.2, -1) ccw
  arc A17 (25.2, -1) -> (24.2, 0) centre (24.2, -1) ccw
  line L338 (25.2, -5.2) -> (25.2, -1)
  line L339 (25.2, -5.2) -> (25.2, -1)
  line L340 (25.2, -19) -> (25.2, -14.8)
  line L341 (25.2, -19) -> (25.2, -14.8)
  arc A18 (24.2, -20) -> (25.2, -19) centre (24.2, -19) ccw
  arc A19 (24.2, -20) -> (25.2, -19) centre (24.2, -19) ccw
  line L342 (20, -20) -> (24.2, -20)
  line L343 (20, -20) -> (24.2, -20)
  line L344 (2.5, -1.8) -> (2.5, -3.7607)
  line L345 (-4.5, -14) -> (-4.8, -13.7)
  line L346 (-5.1, -14) -> (-7.7393, -14)
  line L347 (-5.1, -14) -> (-4.8, -13.7)
  line L348 (-10.3, -16.5607) -> (-7.7393, -14)
  line L349 (-7.8, -18.2) -> (-10.3, -18.2)
  line L350 (0.7, -16.5607) -> (-1.8607, -14)
  line L351 (9.7, -1.8) -> (9.7, -3.4393)
  line L352 (9.7, -3.4393) -> (12.2607, -6)
  line L353 (2.5, -18.2) -> (7.9, -18.2)
  line L354 (20, 0) -> (18.2, -1.8)
  arc A20 (25.2, -1) -> (24.2, 0) centre (24.2, -1) ccw
  line L355 (12.2, -1.8) -> (9.7, -1.8)
  line L356 (25.2, -5.2) -> (23.4, -7)
  line L357 (25.2, -5.2) -> (25.2, -1)
  line L358 (10.4, 0) -> (12.2, -1.8)
  line L359 (10.4, 0) -> (0, 0)
  line L360 (10.4, -20) -> (12.2, -18.2)
  line L361 (12.2, -18.2) -> (9.7, -18.2)
  line L362 (9.7, -18.2) -> (9.7, -16.5607)
  line L363 (9.7, -16.5607) -> (12.2607, -14)
  line L364 (12.2607, -14) -> (14.9, -14)
  line L365 (14.9, -14) -> (15.2, -13.7)
  line L366 (15.5, -14) -> (15.2, -13.7)
  line L367 (15.5, -14) -> (18.1393, -14)
  line L368 (20.7, -16.5607) -> (18.1393, -14)
  line L369 (20.7, -18.2) -> (20.7, -16.5607)
  line L370 (18.2, -18.2) -> (20.7, -18.2)
  line L371 (20, -20) -> (18.2, -18.2)
  line L372 (20, -20) -> (24.2, -20)
  arc A21 (24.2, -20) -> (25.2, -19) centre (24.2, -19) ccw
  line L373 (25.2, -19) -> (25.2, -14.8)
  line L374 (25.2, -14.8) -> (23.4, -13)
  line L375 (23.4, -13) -> (23.4, -15.5)
  line L376 (23.4, -15.5) -> (21.7607, -15.5)
  line L377 (21.7607, -15.5) -> (19.2, -12.9393)
  line L378 (19.2, -12.9393) -> (19.2, -10.3)
  line L379 (19.2, -10.3) -> (18.9, -10)
  line L380 (19.2, -9.7) -> (18.9, -10)
  line L381 (19.2, -9.7) -> (19.2, -7.0607)
  line L382 (21.7607, -4.5) -> (19.2, -7.0607)
  line L383 (23.4, -4.5) -> (21.7607, -4.5)
  line L384 (23.4, -7) -> (23.4, -4.5)
  line L385 (25.2, -5.2) -> (23.4, -7)
  line L386 (25.2, -5.2) -> (25.2, -1)
  arc A22 (25.2, -1) -> (24.2, 0) centre (24.2, -1) ccw
  line L387 (24.2, 0) -> (20, 0)
  line L388 (20, 0) -> (18.2, -1.8)
  line L389 (18.2, -1.8) -> (20.7, -1.8)
  line L390 (20.7, -1.8) -> (20.7, -3.4393)
  line L391 (20.7, -3.4393) -> (18.1393, -6)
  line L392 (18.1393, -6) -> (15.5, -6)
  line L393 (15.5, -6) -> (15.2, -6.3)
  line L394 (14.9, -6) -> (15.2, -6.3)
  line L395 (14.9, -6) -> (12.2607, -6)
  line L396 (9.7, -3.4393) -> (12.2607, -6)
  line L397 (9.7, -1.8) -> (9.7, -3.4393)
  line L398 (12.2, -1.8) -> (9.7, -1.8)
  line L399 (10.4, 0) -> (12.2, -1.8)
  line L400 (10.4, 0) -> (0, 0)
  line L401 (0, 0) -> (-1.8, -1.8)
  line L402 (-1.8, -1.8) -> (0.7, -1.8)
  line L403 (0.7, -1.8) -> (0.7, -3.4393)
  line L404 (0.7, -3.4393) -> (-1.8607, -6)
  line L405 (-4.5, -6) -> (-1.8607, -6)
  line L406 (-4.5, -6) -> (-4.8, -6.3)
  line L407 (-5.1, -6) -> (-4.8, -6.3)
  line L408 (-7.7393, -6) -> (-5.1, -6)
  line L409 (-10.3, -3.4393) -> (-7.7393, -6)
  line L410 (-10.3, -1.8) -> (-10.3, -3.4393)
  line L411 (-7.8, -1.8) -> (-10.3, -1.8)
  line L412 (-9.6, 0) -> (-7.8, -1.8)
  line L413 (-9.6, 0) -> (-13.8, 0)
  arc A23 (-13.8, 0) -> (-14.8, -1) centre (-13.8, -1) ccw
  line L414 (-14.8, -1) -> (-14.8, -5.2)
  line L415 (-14.8, -5.2) -> (-13, -7)
  line L416 (-13, -7) -> (-13, -4.5)
  line L417 (-13, -4.5) -> (-11.3607, -4.5)
  line L418 (-11.3607, -4.5) -> (-8.8, -7.0607)
  line L419 (-8.8, -9.7) -> (-8.8, -7.0607)
  line L420 (-8.8, -9.7) -> (-8.5, -10)
  line L421 (-8.8, -10.3) -> (-8.5, -10)
  line L422 (-8.8, -12.9393) -> (-8.8, -10.3)
  line L423 (-11.3607, -15.5) -> (-8.8, -12.9393)
  line L424 (-13, -15.5) -> (-11.3607, -15.5)
  line L425 (-13, -13) -> (-13, -15.5)
  line L426 (-14.8, -14.8) -> (-13, -13)
  line L427 (-14.8, -14.8) -> (-14.8, -19)
  arc A24 (-14.8, -19) -> (-13.8, -20) centre (-13.8, -19) ccw
  line L428 (-13.8, -20) -> (-9.6, -20)
  line L429 (-9.6, -20) -> (-7.8, -18.2)
  line L430 (-7.8, -18.2) -> (-10.3, -18.2)
  line L431 (-10.3, -18.2) -> (-10.3, -16.5607)
  line L432 (-10.3, -16.5607) -> (-7.7393, -14)
  line L433 (-5.1, -14) -> (-7.7393, -14)
  line L434 (-5.1, -14) -> (-4.8, -13.7)
  line L435 (-4.5, -14) -> (-4.8, -13.7)
  line L436 (-1.8607, -14) -> (-4.5, -14)
  line L437 (0.7, -16.5607) -> (-1.8607, -14)
  line L438 (0.7, -18.2) -> (0.7, -16.5607)
  line L439 (-1.8, -18.2) -> (0.7, -18.2)
  line L440 (0, -20) -> (-1.8, -18.2)
  line L441 (0, -20) -> (10.4, -20)
  circle A25 centre (15.2, -10) radius 2.1
  circle A26 centre (-4.8, -10) radius 2.1
  line L442 (11.2, -7.0607) -> (11.2, -12.9393)
  line L443 (7.9, -16.2393) -> (11.2, -12.9393)
  line L444 (7.9, -18.2) -> (7.9, -16.2393)
  line L445 (2.5, -18.2) -> (7.9, -18.2)
  line L446 (2.5, -18.2) -> (2.5, -16.2393)
  line L447 (2.5, -16.2393) -> (-0.8, -12.9393)
  line L448 (-0.8, -7.0607) -> (-0.8, -12.9393)
  line L449 (2.5, -3.7607) -> (-0.8, -7.0607)
  line L450 (2.5, -1.8) -> (2.5, -3.7607)
  line L451 (2.5, -1.8) -> (7.9, -1.8)
  line L452 (7.9, -1.8) -> (7.9, -3.7607)
  line L453 (7.9, -3.7607) -> (11.2, -7.0607)
  line L454 (0.7, -1.8) -> (0.7, -3.4393)
  line L455 (-1.8, -1.8) -> (0.7, -1.8)
  line L456 (0.7, -3.4393) -> (-1.8607, -6)
  line L457 (0, 0) -> (-1.8, -1.8)
  line L458 (-4.5, -6) -> (-1.8607, -6)
  line L459 (-4.5, -6) -> (-4.8, -6.3)
  line L460 (-5.1, -6) -> (-4.8, -6.3)
  line L461 (-7.7393, -6) -> (-5.1, -6)
  line L462 (-8.8, -9.7) -> (-8.8, -7.0607)
  line L463 (-8.8, -9.7) -> (-8.5, -10)
  line L464 (-9.6, 0) -> (-7.8, -1.8)
  line L465 (-8.8, -10.3) -> (-8.5, -10)
  line L466 (-10.3, -3.4393) -> (-7.7393, -6)
  line L467 (-7.8, -1.8) -> (-10.3, -1.8)
  line L468 (-10.3, -1.8) -> (-10.3, -3.4393)
  line L469 (-8.8, -12.9393) -> (-8.8, -10.3)
  line L470 (-11.3607, -4.5) -> (-8.8, -7.0607)
  line L471 (-9.6, 0) -> (-13.8, 0)
  arc A27 (-13.8, 0) -> (-14.8, -1) centre (-13.8, -1) ccw
  line L472 (-13, -4.5) -> (-11.3607, -4.5)
  line L473 (-11.3607, -15.5) -> (-8.8, -12.9393)
  line L474 (-14.8, -5.2) -> (-13, -7)
  line L475 (-13, -15.5) -> (-11.3607, -15.5)
  line L476 (-13, -13) -> (-13, -15.5)
  line L477 (-14.8, -14.8) -> (-13, -13)
  line L478 (-14.8, -14.8) -> (-14.8, -19)
  line L479 (-13, -7) -> (-13, -4.5)
  line L480 (20.7, -1.8) -> (20.7, -3.4393)
  line L481 (-10.3, -18.2) -> (-10.3, -16.5607)
  circle A28 centre (-4.8, -10) radius 2.1
  line L482 (-1.8607, -14) -> (-4.5, -14)
  line L483 (-1.8, -18.2) -> (0.7, -18.2)
  line L484 (0, -20) -> (-1.8, -18.2)
  line L485 (0, -20) -> (10.4, -20)
  line L486 (0.7, -18.2) -> (0.7, -16.5607)
  line L487 (18.2, -1.8) -> (20.7, -1.8)
  line L488 (20.7, -3.4393) -> (18.1393, -6)
  circle A29 centre (15.2, -10) radius 2.1
  line L489 (14.9, -6) -> (12.2607, -6)
  line L490 (18.1393, -6) -> (15.5, -6)
  line L491 (14.9, -6) -> (15.2, -6.3)
  line L492 (15.5, -6) -> (15.2, -6.3)
  line L493 (9.7, -18.2) -> (9.7, -16.5607)
  line L494 (10.4, -20) -> (12.2, -18.2)
  line L495 (-9.6, -20) -> (-7.8, -18.2)
  line L496 (12.2, -18.2) -> (9.7, -18.2)
  line L497 (-4.5, -6) -> (-1.8607, -6)
  line L498 (-4.5, -6) -> (-1.8607, -6)
  line L499 (-4.5, -6) -> (-4.8, -6.3)
  line L500 (-4.5, -6) -> (-4.8, -6.3)
  line L501 (-4.5, -14) -> (-4.8, -13.7)
  line L502 (-4.5, -14) -> (-4.8, -13.7)
  line L503 (-5.1, -6) -> (-4.8, -6.3)
  line L504 (-5.1, -6) -> (-4.8, -6.3)
  circle A30 centre (-4.8, -10) radius 2.1
  circle A31 centre (-4.8, -10) radius 2.1
  line L505 (-7.7393, -6) -> (-5.1, -6)
  line L506 (-7.7393, -6) -> (-5.1, -6)
  line L507 (-8.8, -9.7) -> (-8.5, -10)
  line L508 (-8.8, -9.7) -> (-8.5, -10)
  line L509 (-8.8, -10.3) -> (-8.5, -10)
  line L510 (-8.8, -10.3) -> (-8.5, -10)
  line L511 (-1.8607, -14) -> (-4.5, -14)
  line L512 (-1.8607, -14) -> (-4.5, -14)
  line L513 (-5.1, -14) -> (-7.7393, -14)
  line L514 (-5.1, -14) -> (-7.7393, -14)
  line L515 (-10.3, -16.5607) -> (-7.7393, -14)
  line L516 (-10.3, -16.5607) -> (-7.7393, -14)
  line L517 (-7.8, -18.2) -> (-10.3, -18.2)
  line L518 (-7.8, -18.2) -> (-10.3, -18.2)
  line L519 (-10.3, -18.2) -> (-10.3, -16.5607)
  line L520 (-10.3, -18.2) -> (-10.3, -16.5607)
  line L521 (-9.6, -20) -> (-7.8, -18.2)
  line L522 (-9.6, -20) -> (-7.8, -18.2)
  line L523 (-5.1, -14) -> (-4.8, -13.7)
  line L524 (-5.1, -14) -> (-4.8, -13.7)
  line L525 (-9.6, 0) -> (-7.8, -1.8)
  line L526 (-9.6, 0) -> (-7.8, -1.8)
  line L527 (-11.3607, -4.5) -> (-8.8, -7.0607)
  line L528 (-11.3607, -4.5) -> (-8.8, -7.0607)
  line L529 (-8.8, -12.9393) -> (-8.8, -10.3)
  line L530 (-8.8, -12.9393) -> (-8.8, -10.3)
  line L531 (-11.3607, -15.5) -> (-8.8, -12.9393)
  line L532 (-11.3607, -15.5) -> (-8.8, -12.9393)
  line L533 (-8.8, -9.7) -> (-8.8, -7.0607)
  line L534 (-8.8, -9.7) -> (-8.8, -7.0607)
  line L535 (-13.8, -20) -> (-9.6, -20)
  line L536 (-13.8, -20) -> (-9.6, -20)
  line L537 (-13.8, -20) -> (-9.6, -20)
  line L538 (-13, -13) -> (-13, -15.5)
  line L539 (-13, -13) -> (-13, -15.5)
  arc A32 (-14.8, -19) -> (-13.8, -20) centre (-13.8, -19) ccw
  arc A33 (-14.8, -19) -> (-13.8, -20) centre (-13.8, -19) ccw
  line L540 (-14.8, -14.8) -> (-14.8, -19)
  line L541 (-14.8, -14.8) -> (-14.8, -19)
  line L542 (-14.8, -14.8) -> (-13, -13)
  line L543 (-14.8, -14.8) -> (-13, -13)
  line L544 (-13, -15.5) -> (-11.3607, -15.5)
  line L545 (-13, -15.5) -> (-11.3607, -15.5)
  line L546 (-7.8, -1.8) -> (-10.3, -1.8)
  line L547 (-7.8, -1.8) -> (-10.3, -1.8)
  line L548 (-10.3, -1.8) -> (-10.3, -3.4393)
  line L549 (-10.3, -1.8) -> (-10.3, -3.4393)
  line L550 (-13, -7) -> (-13, -4.5)
  line L551 (-13, -7) -> (-13, -4.5)
  line L552 (-13, -4.5) -> (-11.3607, -4.5)
  line L553 (-13, -4.5) -> (-11.3607, -4.5)
  line L554 (-10.3, -3.4393) -> (-7.7393, -6)
  line L555 (-10.3, -3.4393) -> (-7.7393, -6)
  line L556 (-14.8, -5.2) -> (-13, -7)
  line L557 (-14.8, -5.2) -> (-13, -7)
  line L558 (-14.8, -1) -> (-14.8, -5.2)
  line L559 (-14.8, -1) -> (-14.8, -5.2)
  line L560 (-14.8, -1) -> (-14.8, -5.2)
  arc A34 (-13.8, 0) -> (-14.8, -1) centre (-13.8, -1) ccw
  arc A35 (-13.8, 0) -> (-14.8, -1) centre (-13.8, -1) ccw
  line L561 (-9.6, 0) -> (-13.8, 0)
  line L562 (-9.6, 0) -> (-13.8, 0)
  line L563 (-14.8, -1) -> (-14.8, -5.2)
  point P0 (5.2, -10)
extrude "Extrusion1" add sketch "Sketch1" along normal blind 500
properties part number "V-Slot_20x40_500" material "Aluminum 6061"
